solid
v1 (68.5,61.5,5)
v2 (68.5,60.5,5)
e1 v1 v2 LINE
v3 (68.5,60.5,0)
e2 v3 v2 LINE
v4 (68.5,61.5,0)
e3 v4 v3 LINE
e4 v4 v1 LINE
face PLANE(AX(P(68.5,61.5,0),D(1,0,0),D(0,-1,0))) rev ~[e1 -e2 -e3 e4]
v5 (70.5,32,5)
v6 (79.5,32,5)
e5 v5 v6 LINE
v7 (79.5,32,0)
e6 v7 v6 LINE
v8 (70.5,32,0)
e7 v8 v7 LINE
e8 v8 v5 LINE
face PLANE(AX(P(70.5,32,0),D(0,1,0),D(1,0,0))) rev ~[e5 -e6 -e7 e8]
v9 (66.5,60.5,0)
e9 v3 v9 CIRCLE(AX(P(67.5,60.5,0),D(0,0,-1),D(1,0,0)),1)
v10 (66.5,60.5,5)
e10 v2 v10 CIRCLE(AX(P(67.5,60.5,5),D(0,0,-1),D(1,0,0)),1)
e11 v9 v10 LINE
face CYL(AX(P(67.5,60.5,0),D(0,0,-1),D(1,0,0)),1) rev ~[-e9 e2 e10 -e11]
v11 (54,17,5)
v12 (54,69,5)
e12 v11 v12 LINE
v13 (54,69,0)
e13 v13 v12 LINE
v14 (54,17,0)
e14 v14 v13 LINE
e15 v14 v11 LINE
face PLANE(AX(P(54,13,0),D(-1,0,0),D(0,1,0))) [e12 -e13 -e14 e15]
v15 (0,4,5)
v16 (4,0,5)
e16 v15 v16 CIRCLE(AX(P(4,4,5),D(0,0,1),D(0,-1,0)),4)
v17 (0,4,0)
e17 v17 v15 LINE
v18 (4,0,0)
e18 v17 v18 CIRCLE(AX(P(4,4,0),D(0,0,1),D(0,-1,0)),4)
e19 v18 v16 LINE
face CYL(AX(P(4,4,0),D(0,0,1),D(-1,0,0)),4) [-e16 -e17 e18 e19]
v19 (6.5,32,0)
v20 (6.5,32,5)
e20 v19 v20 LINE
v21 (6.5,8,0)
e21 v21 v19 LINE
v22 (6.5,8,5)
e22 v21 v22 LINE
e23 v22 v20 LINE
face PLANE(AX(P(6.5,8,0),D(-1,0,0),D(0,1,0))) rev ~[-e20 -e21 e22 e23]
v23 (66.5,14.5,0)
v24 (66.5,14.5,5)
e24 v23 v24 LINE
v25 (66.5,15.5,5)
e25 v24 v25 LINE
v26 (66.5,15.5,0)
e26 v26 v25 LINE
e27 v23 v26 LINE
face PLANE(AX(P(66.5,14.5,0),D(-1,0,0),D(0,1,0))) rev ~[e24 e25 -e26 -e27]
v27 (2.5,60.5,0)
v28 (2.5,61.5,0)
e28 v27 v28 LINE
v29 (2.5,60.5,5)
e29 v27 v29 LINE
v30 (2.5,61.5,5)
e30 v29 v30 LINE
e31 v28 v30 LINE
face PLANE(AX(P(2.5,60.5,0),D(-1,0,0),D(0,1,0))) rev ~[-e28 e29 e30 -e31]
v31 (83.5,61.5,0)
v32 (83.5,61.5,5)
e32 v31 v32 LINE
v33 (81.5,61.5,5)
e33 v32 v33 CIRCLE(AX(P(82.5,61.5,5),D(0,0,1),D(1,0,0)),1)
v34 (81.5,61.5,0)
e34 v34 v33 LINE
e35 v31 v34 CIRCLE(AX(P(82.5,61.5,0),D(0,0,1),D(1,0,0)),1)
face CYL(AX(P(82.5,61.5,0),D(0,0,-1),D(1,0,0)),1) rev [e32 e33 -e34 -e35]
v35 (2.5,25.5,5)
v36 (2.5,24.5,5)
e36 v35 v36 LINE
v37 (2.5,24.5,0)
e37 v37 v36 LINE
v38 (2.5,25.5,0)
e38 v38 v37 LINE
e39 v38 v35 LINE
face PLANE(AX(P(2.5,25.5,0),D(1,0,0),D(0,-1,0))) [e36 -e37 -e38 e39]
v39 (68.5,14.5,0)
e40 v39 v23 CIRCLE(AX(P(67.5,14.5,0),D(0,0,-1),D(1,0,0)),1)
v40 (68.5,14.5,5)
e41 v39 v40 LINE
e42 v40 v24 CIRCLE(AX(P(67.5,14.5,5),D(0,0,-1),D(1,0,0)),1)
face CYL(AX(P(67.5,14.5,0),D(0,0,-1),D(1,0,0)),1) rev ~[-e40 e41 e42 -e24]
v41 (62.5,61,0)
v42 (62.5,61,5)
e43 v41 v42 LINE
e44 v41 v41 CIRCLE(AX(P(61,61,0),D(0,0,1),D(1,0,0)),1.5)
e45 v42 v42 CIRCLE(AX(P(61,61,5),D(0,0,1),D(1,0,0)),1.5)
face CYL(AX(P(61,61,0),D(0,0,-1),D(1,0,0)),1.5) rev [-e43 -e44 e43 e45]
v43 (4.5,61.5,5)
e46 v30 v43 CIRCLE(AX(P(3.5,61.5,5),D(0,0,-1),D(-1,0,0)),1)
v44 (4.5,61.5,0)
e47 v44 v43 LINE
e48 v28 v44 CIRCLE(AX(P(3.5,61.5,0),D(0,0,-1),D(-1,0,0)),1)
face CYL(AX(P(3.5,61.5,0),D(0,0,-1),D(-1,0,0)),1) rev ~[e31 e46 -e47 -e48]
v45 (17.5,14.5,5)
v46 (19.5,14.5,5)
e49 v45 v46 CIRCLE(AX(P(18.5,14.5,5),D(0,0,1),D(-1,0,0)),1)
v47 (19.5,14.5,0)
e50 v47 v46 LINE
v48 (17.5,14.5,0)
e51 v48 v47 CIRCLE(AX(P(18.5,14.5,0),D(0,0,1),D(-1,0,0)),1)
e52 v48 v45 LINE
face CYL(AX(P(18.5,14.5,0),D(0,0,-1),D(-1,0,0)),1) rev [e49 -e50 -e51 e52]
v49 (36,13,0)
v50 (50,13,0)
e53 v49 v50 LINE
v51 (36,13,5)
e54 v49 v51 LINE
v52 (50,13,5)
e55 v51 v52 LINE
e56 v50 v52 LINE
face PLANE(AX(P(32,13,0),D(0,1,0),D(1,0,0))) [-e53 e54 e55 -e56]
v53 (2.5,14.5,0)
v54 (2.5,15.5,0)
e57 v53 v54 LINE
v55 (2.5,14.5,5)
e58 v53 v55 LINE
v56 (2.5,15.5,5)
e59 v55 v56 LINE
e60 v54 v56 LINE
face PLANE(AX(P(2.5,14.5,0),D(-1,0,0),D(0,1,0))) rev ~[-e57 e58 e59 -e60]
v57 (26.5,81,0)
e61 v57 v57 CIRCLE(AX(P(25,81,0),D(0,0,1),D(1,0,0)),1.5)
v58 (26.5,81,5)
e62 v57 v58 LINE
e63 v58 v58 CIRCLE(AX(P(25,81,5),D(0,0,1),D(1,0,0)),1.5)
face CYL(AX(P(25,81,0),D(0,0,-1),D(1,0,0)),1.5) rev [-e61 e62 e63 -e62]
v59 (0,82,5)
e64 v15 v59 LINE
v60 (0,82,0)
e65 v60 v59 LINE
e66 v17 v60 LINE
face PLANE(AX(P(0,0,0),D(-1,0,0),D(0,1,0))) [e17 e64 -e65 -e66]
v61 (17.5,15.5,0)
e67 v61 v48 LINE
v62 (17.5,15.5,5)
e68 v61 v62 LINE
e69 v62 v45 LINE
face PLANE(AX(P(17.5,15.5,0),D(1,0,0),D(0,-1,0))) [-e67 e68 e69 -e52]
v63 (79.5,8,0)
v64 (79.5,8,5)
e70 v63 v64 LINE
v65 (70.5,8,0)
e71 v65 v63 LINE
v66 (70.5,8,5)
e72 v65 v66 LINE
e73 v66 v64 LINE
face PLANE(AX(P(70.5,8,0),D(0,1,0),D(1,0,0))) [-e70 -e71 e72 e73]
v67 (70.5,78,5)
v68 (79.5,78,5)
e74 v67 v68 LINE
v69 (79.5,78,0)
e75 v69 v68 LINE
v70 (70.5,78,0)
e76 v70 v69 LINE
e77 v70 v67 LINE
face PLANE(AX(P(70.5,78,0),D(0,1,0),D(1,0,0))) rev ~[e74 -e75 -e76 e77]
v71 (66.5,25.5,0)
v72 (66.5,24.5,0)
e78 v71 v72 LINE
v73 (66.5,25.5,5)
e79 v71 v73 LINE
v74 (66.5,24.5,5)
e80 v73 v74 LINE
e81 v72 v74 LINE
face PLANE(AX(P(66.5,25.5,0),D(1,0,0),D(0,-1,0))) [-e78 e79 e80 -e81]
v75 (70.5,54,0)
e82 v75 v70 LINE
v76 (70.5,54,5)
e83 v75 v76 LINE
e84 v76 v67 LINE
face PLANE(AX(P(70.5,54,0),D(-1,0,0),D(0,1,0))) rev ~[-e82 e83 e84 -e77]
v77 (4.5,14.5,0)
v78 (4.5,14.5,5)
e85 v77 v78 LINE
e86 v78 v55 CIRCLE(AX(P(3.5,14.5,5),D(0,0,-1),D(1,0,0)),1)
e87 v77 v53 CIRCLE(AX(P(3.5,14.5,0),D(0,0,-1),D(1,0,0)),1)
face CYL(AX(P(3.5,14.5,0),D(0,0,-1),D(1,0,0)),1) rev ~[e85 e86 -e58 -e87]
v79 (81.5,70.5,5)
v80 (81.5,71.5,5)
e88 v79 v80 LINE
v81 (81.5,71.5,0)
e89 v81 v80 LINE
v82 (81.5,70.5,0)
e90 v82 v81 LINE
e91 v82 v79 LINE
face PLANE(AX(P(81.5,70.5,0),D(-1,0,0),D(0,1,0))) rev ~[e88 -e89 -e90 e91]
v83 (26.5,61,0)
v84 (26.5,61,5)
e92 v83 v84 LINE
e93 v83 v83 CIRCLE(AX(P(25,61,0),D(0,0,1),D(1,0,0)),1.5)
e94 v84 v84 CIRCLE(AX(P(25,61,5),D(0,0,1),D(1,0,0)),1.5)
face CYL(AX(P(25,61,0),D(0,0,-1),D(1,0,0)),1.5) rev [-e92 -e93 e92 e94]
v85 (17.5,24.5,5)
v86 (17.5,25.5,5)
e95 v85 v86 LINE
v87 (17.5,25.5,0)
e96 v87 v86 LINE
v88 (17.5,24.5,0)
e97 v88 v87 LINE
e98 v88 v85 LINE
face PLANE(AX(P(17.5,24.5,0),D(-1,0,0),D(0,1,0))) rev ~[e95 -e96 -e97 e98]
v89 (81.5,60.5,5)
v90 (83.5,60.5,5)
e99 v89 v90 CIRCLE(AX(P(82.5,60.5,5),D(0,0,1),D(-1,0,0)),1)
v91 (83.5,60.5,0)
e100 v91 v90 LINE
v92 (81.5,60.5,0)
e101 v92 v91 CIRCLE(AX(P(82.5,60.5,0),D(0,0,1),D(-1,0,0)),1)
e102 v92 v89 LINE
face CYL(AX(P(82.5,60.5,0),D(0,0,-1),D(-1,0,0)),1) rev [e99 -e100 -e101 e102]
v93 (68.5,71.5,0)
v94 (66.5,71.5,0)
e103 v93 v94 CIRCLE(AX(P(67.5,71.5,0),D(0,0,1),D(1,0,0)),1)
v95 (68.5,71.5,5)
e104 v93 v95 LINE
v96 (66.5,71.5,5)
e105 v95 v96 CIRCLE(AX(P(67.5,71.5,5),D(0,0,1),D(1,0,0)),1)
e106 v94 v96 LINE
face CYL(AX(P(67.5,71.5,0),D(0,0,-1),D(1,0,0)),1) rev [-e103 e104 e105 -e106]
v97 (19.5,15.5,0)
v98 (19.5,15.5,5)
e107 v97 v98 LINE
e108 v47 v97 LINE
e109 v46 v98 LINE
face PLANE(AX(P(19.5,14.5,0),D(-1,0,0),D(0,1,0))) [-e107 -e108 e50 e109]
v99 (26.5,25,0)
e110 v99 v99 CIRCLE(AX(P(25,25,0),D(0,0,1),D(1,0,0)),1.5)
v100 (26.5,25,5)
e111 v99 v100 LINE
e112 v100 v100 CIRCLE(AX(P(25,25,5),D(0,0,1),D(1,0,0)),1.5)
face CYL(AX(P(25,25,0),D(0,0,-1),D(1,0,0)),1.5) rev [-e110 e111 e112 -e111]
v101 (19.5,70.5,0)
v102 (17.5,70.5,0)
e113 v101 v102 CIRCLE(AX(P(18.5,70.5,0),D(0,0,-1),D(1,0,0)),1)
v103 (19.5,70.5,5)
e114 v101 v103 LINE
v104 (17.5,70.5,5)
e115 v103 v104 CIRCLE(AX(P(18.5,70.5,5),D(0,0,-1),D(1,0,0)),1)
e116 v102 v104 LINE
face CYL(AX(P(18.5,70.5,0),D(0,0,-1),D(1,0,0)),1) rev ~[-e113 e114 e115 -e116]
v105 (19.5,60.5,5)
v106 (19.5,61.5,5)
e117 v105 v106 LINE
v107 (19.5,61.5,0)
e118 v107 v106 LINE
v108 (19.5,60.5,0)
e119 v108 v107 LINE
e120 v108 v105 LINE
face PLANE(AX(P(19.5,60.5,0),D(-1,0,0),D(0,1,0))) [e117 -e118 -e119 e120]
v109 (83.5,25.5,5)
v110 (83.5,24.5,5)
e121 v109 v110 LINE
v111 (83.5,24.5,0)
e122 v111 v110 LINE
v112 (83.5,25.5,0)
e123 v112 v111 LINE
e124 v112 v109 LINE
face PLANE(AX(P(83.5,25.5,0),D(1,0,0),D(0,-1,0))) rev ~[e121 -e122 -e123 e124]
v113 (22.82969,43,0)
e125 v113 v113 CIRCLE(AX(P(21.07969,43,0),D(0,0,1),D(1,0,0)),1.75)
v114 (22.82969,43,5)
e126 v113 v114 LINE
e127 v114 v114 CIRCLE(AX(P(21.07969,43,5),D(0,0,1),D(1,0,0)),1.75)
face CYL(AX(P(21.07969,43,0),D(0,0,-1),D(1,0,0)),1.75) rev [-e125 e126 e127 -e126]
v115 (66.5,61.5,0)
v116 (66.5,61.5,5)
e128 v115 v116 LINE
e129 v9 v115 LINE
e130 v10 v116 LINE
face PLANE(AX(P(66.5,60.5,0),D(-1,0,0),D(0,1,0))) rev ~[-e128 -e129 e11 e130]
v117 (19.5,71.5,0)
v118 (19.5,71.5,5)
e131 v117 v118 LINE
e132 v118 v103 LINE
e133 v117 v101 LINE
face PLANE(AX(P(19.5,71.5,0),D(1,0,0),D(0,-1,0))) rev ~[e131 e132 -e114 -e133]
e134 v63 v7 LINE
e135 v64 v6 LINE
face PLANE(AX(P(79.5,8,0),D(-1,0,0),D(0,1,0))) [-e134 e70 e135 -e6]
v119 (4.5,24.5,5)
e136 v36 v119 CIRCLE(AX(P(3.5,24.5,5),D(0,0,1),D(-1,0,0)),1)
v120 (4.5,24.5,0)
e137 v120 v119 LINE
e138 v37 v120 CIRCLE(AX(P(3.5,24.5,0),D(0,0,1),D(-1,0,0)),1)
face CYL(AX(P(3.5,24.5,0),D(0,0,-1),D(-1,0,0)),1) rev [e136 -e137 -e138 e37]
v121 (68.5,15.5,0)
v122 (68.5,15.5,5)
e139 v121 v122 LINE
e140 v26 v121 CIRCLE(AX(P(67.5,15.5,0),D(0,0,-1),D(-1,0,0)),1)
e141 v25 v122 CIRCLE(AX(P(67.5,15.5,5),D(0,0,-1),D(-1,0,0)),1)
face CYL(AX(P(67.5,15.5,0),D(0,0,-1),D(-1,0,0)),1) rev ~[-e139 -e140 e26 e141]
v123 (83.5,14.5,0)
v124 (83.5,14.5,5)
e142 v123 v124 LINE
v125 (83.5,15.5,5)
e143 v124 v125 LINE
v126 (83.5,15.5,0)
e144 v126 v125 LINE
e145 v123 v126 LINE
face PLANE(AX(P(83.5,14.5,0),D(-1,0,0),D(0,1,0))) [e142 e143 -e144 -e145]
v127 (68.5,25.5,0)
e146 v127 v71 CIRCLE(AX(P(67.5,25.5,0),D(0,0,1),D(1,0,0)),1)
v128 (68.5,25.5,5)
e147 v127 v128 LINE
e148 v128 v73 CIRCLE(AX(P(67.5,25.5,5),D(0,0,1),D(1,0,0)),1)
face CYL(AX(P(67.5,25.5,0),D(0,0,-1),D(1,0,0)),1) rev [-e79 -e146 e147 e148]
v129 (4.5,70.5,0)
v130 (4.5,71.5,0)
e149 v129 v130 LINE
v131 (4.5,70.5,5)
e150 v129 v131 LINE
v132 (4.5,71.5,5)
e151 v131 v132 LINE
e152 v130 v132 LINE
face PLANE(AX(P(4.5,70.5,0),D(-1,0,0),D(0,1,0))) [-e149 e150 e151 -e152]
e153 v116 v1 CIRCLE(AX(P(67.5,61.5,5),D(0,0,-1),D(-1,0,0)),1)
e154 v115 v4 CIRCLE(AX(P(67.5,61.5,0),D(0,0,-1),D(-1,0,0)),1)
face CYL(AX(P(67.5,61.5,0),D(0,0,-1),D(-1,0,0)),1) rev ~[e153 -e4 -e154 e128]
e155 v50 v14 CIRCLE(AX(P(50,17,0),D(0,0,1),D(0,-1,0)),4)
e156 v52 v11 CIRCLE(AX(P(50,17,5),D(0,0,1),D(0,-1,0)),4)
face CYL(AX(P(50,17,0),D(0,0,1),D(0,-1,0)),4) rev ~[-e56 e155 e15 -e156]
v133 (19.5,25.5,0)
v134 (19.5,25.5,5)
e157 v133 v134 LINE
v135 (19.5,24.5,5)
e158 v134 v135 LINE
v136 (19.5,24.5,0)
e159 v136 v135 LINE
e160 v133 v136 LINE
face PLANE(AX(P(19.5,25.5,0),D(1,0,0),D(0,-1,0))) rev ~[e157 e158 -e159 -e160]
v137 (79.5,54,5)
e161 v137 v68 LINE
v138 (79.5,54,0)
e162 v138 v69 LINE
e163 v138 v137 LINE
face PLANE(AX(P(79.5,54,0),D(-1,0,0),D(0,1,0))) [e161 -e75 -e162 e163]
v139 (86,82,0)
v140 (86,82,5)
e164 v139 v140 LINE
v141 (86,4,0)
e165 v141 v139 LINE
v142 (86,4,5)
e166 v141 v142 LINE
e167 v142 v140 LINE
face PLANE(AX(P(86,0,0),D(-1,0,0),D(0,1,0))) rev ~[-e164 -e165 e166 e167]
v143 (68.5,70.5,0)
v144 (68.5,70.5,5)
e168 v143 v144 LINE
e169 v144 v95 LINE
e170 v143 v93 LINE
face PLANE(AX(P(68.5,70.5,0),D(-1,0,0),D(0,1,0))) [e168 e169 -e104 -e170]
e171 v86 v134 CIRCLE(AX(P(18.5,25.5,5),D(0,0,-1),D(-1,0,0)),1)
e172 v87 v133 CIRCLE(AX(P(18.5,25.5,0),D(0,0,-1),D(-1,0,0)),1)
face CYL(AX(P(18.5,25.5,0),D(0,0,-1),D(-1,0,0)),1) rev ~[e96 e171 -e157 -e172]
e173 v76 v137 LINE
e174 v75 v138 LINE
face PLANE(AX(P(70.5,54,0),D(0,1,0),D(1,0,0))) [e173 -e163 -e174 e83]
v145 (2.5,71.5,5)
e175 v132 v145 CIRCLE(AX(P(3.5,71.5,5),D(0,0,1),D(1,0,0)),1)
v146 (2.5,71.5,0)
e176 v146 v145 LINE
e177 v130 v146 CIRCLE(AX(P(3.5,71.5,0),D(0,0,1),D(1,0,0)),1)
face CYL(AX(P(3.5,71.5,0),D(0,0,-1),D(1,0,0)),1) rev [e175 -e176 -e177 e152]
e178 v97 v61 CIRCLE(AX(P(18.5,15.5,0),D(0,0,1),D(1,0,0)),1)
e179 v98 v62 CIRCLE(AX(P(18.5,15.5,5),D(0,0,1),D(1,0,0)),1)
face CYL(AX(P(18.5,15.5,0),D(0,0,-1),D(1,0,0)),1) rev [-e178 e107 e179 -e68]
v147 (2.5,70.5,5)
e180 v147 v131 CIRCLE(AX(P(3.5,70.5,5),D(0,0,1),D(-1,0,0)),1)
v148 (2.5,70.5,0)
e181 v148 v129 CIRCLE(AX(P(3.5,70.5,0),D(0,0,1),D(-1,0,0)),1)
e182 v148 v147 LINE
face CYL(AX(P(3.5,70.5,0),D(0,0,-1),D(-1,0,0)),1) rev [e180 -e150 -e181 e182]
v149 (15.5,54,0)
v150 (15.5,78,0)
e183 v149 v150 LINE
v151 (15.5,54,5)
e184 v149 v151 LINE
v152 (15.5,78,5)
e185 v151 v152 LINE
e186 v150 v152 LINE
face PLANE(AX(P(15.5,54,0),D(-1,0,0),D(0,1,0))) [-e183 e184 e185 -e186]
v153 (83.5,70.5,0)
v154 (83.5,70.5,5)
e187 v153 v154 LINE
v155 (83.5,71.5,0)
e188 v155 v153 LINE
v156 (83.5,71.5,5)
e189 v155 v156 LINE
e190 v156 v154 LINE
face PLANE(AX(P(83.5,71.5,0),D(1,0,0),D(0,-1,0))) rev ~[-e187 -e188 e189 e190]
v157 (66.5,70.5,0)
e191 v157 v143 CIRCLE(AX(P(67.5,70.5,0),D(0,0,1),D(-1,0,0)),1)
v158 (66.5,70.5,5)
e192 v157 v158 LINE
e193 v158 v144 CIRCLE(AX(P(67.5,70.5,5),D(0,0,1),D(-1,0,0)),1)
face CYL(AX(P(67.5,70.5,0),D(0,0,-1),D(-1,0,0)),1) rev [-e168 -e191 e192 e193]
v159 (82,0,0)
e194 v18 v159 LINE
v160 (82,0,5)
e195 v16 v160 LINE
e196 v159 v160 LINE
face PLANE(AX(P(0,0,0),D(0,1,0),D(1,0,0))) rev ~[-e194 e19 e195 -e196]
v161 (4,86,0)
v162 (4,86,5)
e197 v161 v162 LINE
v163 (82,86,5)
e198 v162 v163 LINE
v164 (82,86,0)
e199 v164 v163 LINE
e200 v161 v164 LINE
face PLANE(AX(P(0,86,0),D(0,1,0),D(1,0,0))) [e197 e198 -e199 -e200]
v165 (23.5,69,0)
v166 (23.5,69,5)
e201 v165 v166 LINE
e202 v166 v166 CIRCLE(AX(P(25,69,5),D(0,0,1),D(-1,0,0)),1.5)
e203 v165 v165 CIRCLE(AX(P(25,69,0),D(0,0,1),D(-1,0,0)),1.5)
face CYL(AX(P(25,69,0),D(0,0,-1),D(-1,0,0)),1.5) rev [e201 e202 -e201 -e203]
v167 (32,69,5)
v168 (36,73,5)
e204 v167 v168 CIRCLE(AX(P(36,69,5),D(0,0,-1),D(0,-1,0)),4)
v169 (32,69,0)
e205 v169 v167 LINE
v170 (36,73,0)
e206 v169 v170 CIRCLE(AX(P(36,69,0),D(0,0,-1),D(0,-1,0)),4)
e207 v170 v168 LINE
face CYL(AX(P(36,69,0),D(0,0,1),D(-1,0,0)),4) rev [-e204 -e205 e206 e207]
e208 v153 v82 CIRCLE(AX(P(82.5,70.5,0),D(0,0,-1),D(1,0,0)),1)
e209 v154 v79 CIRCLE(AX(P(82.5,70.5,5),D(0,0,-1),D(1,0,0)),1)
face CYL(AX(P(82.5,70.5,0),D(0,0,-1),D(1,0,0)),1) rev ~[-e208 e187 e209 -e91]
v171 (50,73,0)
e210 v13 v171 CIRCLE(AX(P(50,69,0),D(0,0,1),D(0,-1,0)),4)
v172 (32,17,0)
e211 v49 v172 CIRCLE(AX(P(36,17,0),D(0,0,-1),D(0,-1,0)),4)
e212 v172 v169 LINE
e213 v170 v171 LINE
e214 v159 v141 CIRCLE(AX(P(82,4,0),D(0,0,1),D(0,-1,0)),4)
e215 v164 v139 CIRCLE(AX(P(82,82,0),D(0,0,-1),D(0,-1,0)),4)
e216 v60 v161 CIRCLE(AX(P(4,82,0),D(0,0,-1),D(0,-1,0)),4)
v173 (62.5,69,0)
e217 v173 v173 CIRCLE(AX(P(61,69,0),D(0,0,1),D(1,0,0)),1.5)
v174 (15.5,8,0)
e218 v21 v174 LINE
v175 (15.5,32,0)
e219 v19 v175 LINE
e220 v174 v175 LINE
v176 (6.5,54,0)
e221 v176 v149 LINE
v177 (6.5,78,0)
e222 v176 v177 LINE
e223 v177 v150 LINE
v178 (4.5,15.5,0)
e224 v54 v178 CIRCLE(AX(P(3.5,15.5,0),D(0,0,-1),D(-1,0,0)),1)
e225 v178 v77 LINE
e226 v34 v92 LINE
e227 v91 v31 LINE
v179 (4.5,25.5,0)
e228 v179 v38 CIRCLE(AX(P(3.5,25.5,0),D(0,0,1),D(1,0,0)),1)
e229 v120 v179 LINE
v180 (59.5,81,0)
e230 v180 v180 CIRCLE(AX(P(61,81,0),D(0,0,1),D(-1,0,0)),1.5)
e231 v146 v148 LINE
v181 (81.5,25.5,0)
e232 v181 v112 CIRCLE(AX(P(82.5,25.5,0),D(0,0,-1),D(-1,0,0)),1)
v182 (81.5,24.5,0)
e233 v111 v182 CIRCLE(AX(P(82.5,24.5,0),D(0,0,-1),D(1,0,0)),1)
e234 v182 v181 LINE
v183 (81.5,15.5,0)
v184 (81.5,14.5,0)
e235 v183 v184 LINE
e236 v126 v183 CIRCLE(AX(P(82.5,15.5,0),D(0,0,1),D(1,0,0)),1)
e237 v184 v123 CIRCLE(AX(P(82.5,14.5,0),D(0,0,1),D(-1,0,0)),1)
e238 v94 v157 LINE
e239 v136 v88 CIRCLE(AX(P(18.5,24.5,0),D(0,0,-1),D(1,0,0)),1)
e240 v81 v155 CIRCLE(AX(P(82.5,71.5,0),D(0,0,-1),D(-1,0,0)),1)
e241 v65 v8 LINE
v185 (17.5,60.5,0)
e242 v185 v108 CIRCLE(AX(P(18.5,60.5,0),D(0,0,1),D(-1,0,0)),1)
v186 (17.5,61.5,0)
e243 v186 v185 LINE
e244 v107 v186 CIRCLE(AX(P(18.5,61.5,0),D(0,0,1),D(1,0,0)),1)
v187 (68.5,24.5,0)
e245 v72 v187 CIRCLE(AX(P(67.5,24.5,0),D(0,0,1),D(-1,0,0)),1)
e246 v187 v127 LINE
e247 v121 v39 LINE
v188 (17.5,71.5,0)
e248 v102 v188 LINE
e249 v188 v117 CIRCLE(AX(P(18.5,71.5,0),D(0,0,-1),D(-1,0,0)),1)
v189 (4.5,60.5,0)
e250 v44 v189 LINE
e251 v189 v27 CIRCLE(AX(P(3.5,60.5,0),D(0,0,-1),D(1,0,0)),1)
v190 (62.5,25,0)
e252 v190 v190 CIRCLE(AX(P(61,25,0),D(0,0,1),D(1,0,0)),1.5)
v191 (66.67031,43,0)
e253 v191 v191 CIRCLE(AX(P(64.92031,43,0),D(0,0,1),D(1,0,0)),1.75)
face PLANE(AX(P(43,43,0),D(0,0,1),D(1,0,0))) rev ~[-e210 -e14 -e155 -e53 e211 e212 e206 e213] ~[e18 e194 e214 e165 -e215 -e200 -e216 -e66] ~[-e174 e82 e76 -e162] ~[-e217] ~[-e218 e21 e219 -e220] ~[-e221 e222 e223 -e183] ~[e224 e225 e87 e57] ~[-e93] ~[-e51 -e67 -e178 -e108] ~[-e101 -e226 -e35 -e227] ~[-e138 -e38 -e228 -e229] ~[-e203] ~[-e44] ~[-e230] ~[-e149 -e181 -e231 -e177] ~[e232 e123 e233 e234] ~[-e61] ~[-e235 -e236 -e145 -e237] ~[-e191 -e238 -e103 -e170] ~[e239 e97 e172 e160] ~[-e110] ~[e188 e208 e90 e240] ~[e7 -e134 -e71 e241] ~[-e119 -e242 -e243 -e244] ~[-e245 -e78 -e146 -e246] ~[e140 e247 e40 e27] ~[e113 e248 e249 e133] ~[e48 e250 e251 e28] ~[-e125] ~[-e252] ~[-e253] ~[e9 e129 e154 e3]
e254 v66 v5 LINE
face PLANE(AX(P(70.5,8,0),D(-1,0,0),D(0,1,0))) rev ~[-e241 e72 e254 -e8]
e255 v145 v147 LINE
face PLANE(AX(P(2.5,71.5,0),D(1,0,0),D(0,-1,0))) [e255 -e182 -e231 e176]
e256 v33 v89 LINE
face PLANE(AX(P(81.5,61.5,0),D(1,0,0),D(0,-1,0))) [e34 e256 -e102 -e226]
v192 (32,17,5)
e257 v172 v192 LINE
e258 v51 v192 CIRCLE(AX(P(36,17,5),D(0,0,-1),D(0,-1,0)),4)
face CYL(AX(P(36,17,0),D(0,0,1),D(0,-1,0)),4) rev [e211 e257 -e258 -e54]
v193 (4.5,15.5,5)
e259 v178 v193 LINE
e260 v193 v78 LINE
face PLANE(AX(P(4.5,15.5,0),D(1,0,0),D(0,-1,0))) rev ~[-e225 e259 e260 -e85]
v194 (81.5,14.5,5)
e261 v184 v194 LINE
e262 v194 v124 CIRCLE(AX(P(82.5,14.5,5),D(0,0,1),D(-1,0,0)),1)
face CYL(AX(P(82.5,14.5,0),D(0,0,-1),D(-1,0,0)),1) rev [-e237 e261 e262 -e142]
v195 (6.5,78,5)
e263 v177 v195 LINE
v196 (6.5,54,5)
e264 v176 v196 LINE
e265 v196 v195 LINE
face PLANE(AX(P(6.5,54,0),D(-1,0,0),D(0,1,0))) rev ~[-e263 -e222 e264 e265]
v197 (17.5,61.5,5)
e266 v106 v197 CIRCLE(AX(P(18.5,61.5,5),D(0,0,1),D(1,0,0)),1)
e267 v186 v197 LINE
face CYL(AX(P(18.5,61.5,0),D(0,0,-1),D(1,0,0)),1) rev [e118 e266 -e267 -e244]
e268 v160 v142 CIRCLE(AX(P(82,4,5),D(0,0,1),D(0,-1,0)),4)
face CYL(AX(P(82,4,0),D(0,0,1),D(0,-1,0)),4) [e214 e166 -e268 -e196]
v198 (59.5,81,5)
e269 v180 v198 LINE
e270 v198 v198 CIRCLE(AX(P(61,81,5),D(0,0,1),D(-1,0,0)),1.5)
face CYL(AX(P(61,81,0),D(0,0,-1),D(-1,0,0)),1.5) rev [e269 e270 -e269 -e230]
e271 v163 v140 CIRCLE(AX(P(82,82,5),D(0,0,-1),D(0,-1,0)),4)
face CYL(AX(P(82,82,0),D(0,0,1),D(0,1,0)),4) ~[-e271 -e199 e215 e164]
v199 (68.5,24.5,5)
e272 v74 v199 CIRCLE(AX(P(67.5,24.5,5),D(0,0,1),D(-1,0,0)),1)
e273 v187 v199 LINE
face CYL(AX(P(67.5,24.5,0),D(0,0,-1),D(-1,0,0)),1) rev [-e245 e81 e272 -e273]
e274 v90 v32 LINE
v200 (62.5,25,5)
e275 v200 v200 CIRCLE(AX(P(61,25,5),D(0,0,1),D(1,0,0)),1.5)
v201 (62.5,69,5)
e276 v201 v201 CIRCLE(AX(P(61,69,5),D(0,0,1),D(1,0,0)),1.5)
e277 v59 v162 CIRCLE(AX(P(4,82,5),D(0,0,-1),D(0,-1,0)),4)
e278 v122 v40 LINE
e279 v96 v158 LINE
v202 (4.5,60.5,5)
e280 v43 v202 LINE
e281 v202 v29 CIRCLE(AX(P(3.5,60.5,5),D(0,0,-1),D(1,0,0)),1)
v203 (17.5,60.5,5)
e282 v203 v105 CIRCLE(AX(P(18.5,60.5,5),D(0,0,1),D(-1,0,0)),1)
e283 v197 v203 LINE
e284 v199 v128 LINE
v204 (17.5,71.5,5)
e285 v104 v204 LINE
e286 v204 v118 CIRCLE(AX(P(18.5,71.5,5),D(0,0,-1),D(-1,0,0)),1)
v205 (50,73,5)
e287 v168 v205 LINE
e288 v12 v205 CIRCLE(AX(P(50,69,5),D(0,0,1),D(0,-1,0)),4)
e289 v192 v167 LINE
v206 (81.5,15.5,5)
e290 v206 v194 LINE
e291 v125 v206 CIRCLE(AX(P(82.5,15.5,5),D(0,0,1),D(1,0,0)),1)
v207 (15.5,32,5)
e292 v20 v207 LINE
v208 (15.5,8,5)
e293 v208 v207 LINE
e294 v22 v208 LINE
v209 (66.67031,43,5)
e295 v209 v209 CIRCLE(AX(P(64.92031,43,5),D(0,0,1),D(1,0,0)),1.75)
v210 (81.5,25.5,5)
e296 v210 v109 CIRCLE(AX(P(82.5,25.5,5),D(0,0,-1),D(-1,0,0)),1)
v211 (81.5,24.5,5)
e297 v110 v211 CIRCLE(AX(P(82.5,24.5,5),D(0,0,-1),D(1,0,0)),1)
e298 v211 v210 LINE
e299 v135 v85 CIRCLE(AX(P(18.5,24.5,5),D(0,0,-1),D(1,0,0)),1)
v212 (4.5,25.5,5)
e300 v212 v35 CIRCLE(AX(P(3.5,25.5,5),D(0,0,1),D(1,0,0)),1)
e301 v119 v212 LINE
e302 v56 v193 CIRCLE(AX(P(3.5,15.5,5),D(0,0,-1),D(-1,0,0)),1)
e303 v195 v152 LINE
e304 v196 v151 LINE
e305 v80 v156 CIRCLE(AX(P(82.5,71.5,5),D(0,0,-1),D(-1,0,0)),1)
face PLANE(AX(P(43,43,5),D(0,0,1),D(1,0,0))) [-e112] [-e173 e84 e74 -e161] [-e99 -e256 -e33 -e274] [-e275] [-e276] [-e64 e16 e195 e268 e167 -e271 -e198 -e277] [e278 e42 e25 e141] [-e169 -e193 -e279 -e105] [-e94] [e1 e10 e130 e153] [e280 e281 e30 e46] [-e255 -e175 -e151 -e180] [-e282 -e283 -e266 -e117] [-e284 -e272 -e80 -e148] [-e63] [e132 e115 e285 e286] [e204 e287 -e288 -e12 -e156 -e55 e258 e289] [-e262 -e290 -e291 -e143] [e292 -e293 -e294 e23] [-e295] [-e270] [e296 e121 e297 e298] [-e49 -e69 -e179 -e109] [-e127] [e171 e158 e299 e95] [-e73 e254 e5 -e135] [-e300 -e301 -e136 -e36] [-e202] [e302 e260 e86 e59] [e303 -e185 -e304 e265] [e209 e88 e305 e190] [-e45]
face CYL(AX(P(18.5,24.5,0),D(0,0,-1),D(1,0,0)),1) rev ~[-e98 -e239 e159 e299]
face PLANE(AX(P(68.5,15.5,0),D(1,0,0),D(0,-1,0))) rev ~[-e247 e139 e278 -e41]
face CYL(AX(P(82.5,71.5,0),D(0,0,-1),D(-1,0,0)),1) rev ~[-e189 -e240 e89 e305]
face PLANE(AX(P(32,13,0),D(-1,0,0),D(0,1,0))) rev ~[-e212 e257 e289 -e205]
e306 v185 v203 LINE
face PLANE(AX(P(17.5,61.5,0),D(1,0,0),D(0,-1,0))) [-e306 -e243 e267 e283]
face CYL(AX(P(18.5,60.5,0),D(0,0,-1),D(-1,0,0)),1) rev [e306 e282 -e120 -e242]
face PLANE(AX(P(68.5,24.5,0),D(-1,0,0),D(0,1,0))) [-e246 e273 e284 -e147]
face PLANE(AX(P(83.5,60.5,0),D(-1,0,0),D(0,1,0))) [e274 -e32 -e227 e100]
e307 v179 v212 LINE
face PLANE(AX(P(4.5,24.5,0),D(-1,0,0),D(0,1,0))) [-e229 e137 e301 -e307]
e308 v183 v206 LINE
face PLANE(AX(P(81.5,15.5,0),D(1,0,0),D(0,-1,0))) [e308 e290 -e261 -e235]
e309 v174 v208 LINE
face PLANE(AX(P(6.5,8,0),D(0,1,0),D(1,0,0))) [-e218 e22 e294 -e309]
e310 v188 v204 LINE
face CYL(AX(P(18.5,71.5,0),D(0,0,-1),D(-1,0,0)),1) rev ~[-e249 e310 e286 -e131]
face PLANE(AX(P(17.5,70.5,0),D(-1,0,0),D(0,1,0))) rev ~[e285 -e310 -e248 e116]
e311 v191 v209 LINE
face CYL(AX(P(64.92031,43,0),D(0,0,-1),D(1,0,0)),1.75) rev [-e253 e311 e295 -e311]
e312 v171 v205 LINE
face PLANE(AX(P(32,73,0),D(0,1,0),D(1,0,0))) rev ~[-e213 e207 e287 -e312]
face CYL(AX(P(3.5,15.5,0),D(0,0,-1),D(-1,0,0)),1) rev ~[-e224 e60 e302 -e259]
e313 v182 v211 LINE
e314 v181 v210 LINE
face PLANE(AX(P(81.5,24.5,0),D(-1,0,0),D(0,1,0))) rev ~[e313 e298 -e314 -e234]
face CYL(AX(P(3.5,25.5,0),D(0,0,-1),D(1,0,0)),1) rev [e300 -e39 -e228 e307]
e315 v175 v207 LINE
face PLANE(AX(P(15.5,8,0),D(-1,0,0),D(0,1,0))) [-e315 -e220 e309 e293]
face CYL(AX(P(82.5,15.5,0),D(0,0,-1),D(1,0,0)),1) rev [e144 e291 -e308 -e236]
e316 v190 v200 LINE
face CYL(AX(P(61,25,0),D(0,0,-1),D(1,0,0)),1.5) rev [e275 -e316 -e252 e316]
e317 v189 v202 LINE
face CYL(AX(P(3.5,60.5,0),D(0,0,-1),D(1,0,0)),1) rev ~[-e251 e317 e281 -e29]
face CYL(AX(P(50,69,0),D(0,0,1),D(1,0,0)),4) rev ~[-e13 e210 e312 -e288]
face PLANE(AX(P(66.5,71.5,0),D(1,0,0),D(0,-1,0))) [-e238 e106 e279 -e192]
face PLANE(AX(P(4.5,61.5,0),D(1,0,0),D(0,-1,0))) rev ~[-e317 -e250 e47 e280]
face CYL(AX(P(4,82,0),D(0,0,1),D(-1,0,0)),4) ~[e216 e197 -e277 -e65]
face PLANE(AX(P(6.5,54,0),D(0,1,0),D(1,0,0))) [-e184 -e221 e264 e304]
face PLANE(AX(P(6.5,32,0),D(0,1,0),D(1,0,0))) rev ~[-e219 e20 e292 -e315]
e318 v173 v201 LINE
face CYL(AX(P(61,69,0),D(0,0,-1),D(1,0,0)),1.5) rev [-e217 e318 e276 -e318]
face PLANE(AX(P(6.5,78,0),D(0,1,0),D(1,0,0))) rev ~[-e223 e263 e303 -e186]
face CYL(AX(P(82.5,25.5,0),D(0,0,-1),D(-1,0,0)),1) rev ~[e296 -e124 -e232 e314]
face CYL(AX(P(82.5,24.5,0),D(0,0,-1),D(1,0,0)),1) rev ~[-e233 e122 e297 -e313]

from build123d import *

# Parameters (mm, degrees)
SKETCH1_W           = 86
SKETCH1_H           = 86
SKETCH1_R           = 1.5
SKETCH1_R_2         = 1.75
SKETCH1_W_2         = 9
SKETCH1_H_2         = 24
SKETCH1_W_3         = 22
SKETCH1_H_3         = 60
BOSS_EXTRUDE1_DEPTH = 5
FILLET1_R           = 4


with BuildPart() as part:
    # Sketch1 → Boss-Extrude1 (new body)
    with BuildSketch(Plane.XY):
        with Locations((43, 43)):
            Rectangle(SKETCH1_W, SKETCH1_H)
        with Locations((25, 61)):
            Circle(SKETCH1_R, mode=Mode.SUBTRACT)
        with Locations((61, 61)):
            Circle(SKETCH1_R, mode=Mode.SUBTRACT)
        with Locations((61, 25)):
            Circle(SKETCH1_R, mode=Mode.SUBTRACT)
        with Locations((25, 25)):
            Circle(SKETCH1_R, mode=Mode.SUBTRACT)
        with Locations((25, 81)):
            Circle(SKETCH1_R, mode=Mode.SUBTRACT)
        with Locations(Location((25, 69, 0), (0, 0, 180))):
            Circle(SKETCH1_R, mode=Mode.SUBTRACT)
        with Locations((61, 69)):
            Circle(SKETCH1_R, mode=Mode.SUBTRACT)
        with Locations(Location((61, 81, 0), (0, 0, 180))):
            Circle(SKETCH1_R, mode=Mode.SUBTRACT)
        with Locations((64.920310217, 43)):
            Circle(SKETCH1_R_2, mode=Mode.SUBTRACT)
        with Locations((21.079689783, 43)):
            Circle(SKETCH1_R_2, mode=Mode.SUBTRACT)
        with Locations((75, 66)):
            Rectangle(SKETCH1_W_2, SKETCH1_H_2, mode=Mode.SUBTRACT)
        with BuildLine():
            Line((68.5, 61.5), (68.5, 60.5))
            ThreePointArc((68.5, 60.5), (67.5, 59.5), (66.5, 60.5))
            Line((66.5, 60.5), (66.5, 61.5))
            ThreePointArc((66.5, 61.5), (67.5, 62.5), (68.5, 61.5))
        make_face(mode=Mode.SUBTRACT)
        with BuildLine():
            Line((81.5, 61.5), (81.5, 60.5))
            ThreePointArc((81.5, 60.5), (82.5, 59.5), (83.5, 60.5))
            Line((83.5, 60.5), (83.5, 61.5))
            ThreePointArc((83.5, 61.5), (82.5, 62.5), (81.5, 61.5))
        make_face(mode=Mode.SUBTRACT)
        with BuildLine():
            Line((68.5, 24.5), (68.5, 25.5))
            ThreePointArc((68.5, 25.5), (67.5, 26.5), (66.5, 25.5))
            Line((66.5, 25.5), (66.5, 24.5))
            ThreePointArc((66.5, 24.5), (67.5, 23.5), (68.5, 24.5))
        make_face(mode=Mode.SUBTRACT)
        with BuildLine():
            Line((81.5, 24.5), (81.5, 25.5))
            ThreePointArc((81.5, 25.5), (82.5, 26.5), (83.5, 25.5))
            Line((83.5, 25.5), (83.5, 24.5))
            ThreePointArc((83.5, 24.5), (82.5, 23.5), (81.5, 24.5))
        make_face(mode=Mode.SUBTRACT)
        with Locations((75, 20)):
            Rectangle(SKETCH1_W_2, SKETCH1_H_2, mode=Mode.SUBTRACT)
        with BuildLine():
            Line((17.5, 61.5), (17.5, 60.5))
            ThreePointArc((17.5, 60.5), (18.5, 59.5), (19.5, 60.5))
            Line((19.5, 60.5), (19.5, 61.5))
            ThreePointArc((19.5, 61.5), (18.5, 62.5), (17.5, 61.5))
        make_face(mode=Mode.SUBTRACT)
        with BuildLine():
            Line((4.5, 61.5), (4.5, 60.5))
            ThreePointArc((4.5, 60.5), (3.5, 59.5), (2.5, 60.5))
            Line((2.5, 60.5), (2.5, 61.5))
            ThreePointArc((2.5, 61.5), (3.5, 62.5), (4.5, 61.5))
        make_face(mode=Mode.SUBTRACT)
        with BuildLine():
            Line((17.5, 24.5), (17.5, 25.5))
            ThreePointArc((17.5, 25.5), (18.5, 26.5), (19.5, 25.5))
            Line((19.5, 25.5), (19.5, 24.5))
            ThreePointArc((19.5, 24.5), (18.5, 23.5), (17.5, 24.5))
        make_face(mode=Mode.SUBTRACT)
        with BuildLine():
            Line((4.5, 24.5), (4.5, 25.5))
            ThreePointArc((4.5, 25.5), (3.5, 26.5), (2.5, 25.5))
            Line((2.5, 25.5), (2.5, 24.5))
            ThreePointArc((2.5, 24.5), (3.5, 23.5), (4.5, 24.5))
        make_face(mode=Mode.SUBTRACT)
        with Locations((11, 20)):
            Rectangle(SKETCH1_W_2, SKETCH1_H_2, mode=Mode.SUBTRACT)
        with Locations((11, 66)):
            Rectangle(SKETCH1_W_2, SKETCH1_H_2, mode=Mode.SUBTRACT)
        with Locations((43, 43)):
            Rectangle(SKETCH1_W_3, SKETCH1_H_3, mode=Mode.SUBTRACT)
        with BuildLine():
            Line((68.5, 70.5), (68.5, 71.5))
            ThreePointArc((68.5, 71.5), (67.5, 72.5), (66.5, 71.5))
            Line((66.5, 71.5), (66.5, 70.5))
            ThreePointArc((66.5, 70.5), (67.5, 69.5), (68.5, 70.5))
        make_face(mode=Mode.SUBTRACT)
        with BuildLine():
            Line((81.5, 70.5), (81.5, 71.5))
            ThreePointArc((81.5, 71.5), (82.5, 72.5), (83.5, 71.5))
            Line((83.5, 71.5), (83.5, 70.5))
            ThreePointArc((83.5, 70.5), (82.5, 69.5), (81.5, 70.5))
        make_face(mode=Mode.SUBTRACT)
        with BuildLine():
            Line((17.5, 70.5), (17.5, 71.5))
            ThreePointArc((17.5, 71.5), (18.5, 72.5), (19.5, 71.5))
            Line((19.5, 71.5), (19.5, 70.5))
            ThreePointArc((19.5, 70.5), (18.5, 69.5), (17.5, 70.5))
        make_face(mode=Mode.SUBTRACT)
        with BuildLine():
            Line((4.5, 70.5), (4.5, 71.5))
            ThreePointArc((4.5, 71.5), (3.5, 72.5), (2.5, 71.5))
            Line((2.5, 71.5), (2.5, 70.5))
            ThreePointArc((2.5, 70.5), (3.5, 69.5), (4.5, 70.5))
        make_face(mode=Mode.SUBTRACT)
        with BuildLine():
            Line((4.5, 15.5), (4.5, 14.5))
            ThreePointArc((4.5, 14.5), (3.5, 13.5), (2.5, 14.5))
            Line((2.5, 14.5), (2.5, 15.5))
            ThreePointArc((2.5, 15.5), (3.5, 16.5), (4.5, 15.5))
        make_face(mode=Mode.SUBTRACT)
        with BuildLine():
            Line((17.5, 15.5), (17.5, 14.5))
            ThreePointArc((17.5, 14.5), (18.5, 13.5), (19.5, 14.5))
            Line((19.5, 14.5), (19.5, 15.5))
            ThreePointArc((19.5, 15.5), (18.5, 16.5), (17.5, 15.5))
        make_face(mode=Mode.SUBTRACT)
        with BuildLine():
            Line((68.5, 15.5), (68.5, 14.5))
            ThreePointArc((68.5, 14.5), (67.5, 13.5), (66.5, 14.5))
            Line((66.5, 14.5), (66.5, 15.5))
            ThreePointArc((66.5, 15.5), (67.5, 16.5), (68.5, 15.5))
        make_face(mode=Mode.SUBTRACT)
        with BuildLine():
            Line((81.5, 15.5), (81.5, 14.5))
            ThreePointArc((81.5, 14.5), (82.5, 13.5), (83.5, 14.5))
            Line((83.5, 14.5), (83.5, 15.5))
            ThreePointArc((83.5, 15.5), (82.5, 16.5), (81.5, 15.5))
        make_face(mode=Mode.SUBTRACT)
    extrude(amount=BOSS_EXTRUDE1_DEPTH)

    # Fillet1
    fillet1_edges = [part.edges().sort_by_distance(p)[0] for p in [
        (32, 73, 2.5),
        (32, 13, 2.5),
        (54, 13, 2.5),
        (54, 73, 2.5),
        (0, 86, 2.5),
        (86, 86, 2.5),
        (86, 0, 2.5),
        (0, 0, 2.5),
    ]]
    fillet(fillet1_edges, radius=FILLET1_R)


solid = part.part
